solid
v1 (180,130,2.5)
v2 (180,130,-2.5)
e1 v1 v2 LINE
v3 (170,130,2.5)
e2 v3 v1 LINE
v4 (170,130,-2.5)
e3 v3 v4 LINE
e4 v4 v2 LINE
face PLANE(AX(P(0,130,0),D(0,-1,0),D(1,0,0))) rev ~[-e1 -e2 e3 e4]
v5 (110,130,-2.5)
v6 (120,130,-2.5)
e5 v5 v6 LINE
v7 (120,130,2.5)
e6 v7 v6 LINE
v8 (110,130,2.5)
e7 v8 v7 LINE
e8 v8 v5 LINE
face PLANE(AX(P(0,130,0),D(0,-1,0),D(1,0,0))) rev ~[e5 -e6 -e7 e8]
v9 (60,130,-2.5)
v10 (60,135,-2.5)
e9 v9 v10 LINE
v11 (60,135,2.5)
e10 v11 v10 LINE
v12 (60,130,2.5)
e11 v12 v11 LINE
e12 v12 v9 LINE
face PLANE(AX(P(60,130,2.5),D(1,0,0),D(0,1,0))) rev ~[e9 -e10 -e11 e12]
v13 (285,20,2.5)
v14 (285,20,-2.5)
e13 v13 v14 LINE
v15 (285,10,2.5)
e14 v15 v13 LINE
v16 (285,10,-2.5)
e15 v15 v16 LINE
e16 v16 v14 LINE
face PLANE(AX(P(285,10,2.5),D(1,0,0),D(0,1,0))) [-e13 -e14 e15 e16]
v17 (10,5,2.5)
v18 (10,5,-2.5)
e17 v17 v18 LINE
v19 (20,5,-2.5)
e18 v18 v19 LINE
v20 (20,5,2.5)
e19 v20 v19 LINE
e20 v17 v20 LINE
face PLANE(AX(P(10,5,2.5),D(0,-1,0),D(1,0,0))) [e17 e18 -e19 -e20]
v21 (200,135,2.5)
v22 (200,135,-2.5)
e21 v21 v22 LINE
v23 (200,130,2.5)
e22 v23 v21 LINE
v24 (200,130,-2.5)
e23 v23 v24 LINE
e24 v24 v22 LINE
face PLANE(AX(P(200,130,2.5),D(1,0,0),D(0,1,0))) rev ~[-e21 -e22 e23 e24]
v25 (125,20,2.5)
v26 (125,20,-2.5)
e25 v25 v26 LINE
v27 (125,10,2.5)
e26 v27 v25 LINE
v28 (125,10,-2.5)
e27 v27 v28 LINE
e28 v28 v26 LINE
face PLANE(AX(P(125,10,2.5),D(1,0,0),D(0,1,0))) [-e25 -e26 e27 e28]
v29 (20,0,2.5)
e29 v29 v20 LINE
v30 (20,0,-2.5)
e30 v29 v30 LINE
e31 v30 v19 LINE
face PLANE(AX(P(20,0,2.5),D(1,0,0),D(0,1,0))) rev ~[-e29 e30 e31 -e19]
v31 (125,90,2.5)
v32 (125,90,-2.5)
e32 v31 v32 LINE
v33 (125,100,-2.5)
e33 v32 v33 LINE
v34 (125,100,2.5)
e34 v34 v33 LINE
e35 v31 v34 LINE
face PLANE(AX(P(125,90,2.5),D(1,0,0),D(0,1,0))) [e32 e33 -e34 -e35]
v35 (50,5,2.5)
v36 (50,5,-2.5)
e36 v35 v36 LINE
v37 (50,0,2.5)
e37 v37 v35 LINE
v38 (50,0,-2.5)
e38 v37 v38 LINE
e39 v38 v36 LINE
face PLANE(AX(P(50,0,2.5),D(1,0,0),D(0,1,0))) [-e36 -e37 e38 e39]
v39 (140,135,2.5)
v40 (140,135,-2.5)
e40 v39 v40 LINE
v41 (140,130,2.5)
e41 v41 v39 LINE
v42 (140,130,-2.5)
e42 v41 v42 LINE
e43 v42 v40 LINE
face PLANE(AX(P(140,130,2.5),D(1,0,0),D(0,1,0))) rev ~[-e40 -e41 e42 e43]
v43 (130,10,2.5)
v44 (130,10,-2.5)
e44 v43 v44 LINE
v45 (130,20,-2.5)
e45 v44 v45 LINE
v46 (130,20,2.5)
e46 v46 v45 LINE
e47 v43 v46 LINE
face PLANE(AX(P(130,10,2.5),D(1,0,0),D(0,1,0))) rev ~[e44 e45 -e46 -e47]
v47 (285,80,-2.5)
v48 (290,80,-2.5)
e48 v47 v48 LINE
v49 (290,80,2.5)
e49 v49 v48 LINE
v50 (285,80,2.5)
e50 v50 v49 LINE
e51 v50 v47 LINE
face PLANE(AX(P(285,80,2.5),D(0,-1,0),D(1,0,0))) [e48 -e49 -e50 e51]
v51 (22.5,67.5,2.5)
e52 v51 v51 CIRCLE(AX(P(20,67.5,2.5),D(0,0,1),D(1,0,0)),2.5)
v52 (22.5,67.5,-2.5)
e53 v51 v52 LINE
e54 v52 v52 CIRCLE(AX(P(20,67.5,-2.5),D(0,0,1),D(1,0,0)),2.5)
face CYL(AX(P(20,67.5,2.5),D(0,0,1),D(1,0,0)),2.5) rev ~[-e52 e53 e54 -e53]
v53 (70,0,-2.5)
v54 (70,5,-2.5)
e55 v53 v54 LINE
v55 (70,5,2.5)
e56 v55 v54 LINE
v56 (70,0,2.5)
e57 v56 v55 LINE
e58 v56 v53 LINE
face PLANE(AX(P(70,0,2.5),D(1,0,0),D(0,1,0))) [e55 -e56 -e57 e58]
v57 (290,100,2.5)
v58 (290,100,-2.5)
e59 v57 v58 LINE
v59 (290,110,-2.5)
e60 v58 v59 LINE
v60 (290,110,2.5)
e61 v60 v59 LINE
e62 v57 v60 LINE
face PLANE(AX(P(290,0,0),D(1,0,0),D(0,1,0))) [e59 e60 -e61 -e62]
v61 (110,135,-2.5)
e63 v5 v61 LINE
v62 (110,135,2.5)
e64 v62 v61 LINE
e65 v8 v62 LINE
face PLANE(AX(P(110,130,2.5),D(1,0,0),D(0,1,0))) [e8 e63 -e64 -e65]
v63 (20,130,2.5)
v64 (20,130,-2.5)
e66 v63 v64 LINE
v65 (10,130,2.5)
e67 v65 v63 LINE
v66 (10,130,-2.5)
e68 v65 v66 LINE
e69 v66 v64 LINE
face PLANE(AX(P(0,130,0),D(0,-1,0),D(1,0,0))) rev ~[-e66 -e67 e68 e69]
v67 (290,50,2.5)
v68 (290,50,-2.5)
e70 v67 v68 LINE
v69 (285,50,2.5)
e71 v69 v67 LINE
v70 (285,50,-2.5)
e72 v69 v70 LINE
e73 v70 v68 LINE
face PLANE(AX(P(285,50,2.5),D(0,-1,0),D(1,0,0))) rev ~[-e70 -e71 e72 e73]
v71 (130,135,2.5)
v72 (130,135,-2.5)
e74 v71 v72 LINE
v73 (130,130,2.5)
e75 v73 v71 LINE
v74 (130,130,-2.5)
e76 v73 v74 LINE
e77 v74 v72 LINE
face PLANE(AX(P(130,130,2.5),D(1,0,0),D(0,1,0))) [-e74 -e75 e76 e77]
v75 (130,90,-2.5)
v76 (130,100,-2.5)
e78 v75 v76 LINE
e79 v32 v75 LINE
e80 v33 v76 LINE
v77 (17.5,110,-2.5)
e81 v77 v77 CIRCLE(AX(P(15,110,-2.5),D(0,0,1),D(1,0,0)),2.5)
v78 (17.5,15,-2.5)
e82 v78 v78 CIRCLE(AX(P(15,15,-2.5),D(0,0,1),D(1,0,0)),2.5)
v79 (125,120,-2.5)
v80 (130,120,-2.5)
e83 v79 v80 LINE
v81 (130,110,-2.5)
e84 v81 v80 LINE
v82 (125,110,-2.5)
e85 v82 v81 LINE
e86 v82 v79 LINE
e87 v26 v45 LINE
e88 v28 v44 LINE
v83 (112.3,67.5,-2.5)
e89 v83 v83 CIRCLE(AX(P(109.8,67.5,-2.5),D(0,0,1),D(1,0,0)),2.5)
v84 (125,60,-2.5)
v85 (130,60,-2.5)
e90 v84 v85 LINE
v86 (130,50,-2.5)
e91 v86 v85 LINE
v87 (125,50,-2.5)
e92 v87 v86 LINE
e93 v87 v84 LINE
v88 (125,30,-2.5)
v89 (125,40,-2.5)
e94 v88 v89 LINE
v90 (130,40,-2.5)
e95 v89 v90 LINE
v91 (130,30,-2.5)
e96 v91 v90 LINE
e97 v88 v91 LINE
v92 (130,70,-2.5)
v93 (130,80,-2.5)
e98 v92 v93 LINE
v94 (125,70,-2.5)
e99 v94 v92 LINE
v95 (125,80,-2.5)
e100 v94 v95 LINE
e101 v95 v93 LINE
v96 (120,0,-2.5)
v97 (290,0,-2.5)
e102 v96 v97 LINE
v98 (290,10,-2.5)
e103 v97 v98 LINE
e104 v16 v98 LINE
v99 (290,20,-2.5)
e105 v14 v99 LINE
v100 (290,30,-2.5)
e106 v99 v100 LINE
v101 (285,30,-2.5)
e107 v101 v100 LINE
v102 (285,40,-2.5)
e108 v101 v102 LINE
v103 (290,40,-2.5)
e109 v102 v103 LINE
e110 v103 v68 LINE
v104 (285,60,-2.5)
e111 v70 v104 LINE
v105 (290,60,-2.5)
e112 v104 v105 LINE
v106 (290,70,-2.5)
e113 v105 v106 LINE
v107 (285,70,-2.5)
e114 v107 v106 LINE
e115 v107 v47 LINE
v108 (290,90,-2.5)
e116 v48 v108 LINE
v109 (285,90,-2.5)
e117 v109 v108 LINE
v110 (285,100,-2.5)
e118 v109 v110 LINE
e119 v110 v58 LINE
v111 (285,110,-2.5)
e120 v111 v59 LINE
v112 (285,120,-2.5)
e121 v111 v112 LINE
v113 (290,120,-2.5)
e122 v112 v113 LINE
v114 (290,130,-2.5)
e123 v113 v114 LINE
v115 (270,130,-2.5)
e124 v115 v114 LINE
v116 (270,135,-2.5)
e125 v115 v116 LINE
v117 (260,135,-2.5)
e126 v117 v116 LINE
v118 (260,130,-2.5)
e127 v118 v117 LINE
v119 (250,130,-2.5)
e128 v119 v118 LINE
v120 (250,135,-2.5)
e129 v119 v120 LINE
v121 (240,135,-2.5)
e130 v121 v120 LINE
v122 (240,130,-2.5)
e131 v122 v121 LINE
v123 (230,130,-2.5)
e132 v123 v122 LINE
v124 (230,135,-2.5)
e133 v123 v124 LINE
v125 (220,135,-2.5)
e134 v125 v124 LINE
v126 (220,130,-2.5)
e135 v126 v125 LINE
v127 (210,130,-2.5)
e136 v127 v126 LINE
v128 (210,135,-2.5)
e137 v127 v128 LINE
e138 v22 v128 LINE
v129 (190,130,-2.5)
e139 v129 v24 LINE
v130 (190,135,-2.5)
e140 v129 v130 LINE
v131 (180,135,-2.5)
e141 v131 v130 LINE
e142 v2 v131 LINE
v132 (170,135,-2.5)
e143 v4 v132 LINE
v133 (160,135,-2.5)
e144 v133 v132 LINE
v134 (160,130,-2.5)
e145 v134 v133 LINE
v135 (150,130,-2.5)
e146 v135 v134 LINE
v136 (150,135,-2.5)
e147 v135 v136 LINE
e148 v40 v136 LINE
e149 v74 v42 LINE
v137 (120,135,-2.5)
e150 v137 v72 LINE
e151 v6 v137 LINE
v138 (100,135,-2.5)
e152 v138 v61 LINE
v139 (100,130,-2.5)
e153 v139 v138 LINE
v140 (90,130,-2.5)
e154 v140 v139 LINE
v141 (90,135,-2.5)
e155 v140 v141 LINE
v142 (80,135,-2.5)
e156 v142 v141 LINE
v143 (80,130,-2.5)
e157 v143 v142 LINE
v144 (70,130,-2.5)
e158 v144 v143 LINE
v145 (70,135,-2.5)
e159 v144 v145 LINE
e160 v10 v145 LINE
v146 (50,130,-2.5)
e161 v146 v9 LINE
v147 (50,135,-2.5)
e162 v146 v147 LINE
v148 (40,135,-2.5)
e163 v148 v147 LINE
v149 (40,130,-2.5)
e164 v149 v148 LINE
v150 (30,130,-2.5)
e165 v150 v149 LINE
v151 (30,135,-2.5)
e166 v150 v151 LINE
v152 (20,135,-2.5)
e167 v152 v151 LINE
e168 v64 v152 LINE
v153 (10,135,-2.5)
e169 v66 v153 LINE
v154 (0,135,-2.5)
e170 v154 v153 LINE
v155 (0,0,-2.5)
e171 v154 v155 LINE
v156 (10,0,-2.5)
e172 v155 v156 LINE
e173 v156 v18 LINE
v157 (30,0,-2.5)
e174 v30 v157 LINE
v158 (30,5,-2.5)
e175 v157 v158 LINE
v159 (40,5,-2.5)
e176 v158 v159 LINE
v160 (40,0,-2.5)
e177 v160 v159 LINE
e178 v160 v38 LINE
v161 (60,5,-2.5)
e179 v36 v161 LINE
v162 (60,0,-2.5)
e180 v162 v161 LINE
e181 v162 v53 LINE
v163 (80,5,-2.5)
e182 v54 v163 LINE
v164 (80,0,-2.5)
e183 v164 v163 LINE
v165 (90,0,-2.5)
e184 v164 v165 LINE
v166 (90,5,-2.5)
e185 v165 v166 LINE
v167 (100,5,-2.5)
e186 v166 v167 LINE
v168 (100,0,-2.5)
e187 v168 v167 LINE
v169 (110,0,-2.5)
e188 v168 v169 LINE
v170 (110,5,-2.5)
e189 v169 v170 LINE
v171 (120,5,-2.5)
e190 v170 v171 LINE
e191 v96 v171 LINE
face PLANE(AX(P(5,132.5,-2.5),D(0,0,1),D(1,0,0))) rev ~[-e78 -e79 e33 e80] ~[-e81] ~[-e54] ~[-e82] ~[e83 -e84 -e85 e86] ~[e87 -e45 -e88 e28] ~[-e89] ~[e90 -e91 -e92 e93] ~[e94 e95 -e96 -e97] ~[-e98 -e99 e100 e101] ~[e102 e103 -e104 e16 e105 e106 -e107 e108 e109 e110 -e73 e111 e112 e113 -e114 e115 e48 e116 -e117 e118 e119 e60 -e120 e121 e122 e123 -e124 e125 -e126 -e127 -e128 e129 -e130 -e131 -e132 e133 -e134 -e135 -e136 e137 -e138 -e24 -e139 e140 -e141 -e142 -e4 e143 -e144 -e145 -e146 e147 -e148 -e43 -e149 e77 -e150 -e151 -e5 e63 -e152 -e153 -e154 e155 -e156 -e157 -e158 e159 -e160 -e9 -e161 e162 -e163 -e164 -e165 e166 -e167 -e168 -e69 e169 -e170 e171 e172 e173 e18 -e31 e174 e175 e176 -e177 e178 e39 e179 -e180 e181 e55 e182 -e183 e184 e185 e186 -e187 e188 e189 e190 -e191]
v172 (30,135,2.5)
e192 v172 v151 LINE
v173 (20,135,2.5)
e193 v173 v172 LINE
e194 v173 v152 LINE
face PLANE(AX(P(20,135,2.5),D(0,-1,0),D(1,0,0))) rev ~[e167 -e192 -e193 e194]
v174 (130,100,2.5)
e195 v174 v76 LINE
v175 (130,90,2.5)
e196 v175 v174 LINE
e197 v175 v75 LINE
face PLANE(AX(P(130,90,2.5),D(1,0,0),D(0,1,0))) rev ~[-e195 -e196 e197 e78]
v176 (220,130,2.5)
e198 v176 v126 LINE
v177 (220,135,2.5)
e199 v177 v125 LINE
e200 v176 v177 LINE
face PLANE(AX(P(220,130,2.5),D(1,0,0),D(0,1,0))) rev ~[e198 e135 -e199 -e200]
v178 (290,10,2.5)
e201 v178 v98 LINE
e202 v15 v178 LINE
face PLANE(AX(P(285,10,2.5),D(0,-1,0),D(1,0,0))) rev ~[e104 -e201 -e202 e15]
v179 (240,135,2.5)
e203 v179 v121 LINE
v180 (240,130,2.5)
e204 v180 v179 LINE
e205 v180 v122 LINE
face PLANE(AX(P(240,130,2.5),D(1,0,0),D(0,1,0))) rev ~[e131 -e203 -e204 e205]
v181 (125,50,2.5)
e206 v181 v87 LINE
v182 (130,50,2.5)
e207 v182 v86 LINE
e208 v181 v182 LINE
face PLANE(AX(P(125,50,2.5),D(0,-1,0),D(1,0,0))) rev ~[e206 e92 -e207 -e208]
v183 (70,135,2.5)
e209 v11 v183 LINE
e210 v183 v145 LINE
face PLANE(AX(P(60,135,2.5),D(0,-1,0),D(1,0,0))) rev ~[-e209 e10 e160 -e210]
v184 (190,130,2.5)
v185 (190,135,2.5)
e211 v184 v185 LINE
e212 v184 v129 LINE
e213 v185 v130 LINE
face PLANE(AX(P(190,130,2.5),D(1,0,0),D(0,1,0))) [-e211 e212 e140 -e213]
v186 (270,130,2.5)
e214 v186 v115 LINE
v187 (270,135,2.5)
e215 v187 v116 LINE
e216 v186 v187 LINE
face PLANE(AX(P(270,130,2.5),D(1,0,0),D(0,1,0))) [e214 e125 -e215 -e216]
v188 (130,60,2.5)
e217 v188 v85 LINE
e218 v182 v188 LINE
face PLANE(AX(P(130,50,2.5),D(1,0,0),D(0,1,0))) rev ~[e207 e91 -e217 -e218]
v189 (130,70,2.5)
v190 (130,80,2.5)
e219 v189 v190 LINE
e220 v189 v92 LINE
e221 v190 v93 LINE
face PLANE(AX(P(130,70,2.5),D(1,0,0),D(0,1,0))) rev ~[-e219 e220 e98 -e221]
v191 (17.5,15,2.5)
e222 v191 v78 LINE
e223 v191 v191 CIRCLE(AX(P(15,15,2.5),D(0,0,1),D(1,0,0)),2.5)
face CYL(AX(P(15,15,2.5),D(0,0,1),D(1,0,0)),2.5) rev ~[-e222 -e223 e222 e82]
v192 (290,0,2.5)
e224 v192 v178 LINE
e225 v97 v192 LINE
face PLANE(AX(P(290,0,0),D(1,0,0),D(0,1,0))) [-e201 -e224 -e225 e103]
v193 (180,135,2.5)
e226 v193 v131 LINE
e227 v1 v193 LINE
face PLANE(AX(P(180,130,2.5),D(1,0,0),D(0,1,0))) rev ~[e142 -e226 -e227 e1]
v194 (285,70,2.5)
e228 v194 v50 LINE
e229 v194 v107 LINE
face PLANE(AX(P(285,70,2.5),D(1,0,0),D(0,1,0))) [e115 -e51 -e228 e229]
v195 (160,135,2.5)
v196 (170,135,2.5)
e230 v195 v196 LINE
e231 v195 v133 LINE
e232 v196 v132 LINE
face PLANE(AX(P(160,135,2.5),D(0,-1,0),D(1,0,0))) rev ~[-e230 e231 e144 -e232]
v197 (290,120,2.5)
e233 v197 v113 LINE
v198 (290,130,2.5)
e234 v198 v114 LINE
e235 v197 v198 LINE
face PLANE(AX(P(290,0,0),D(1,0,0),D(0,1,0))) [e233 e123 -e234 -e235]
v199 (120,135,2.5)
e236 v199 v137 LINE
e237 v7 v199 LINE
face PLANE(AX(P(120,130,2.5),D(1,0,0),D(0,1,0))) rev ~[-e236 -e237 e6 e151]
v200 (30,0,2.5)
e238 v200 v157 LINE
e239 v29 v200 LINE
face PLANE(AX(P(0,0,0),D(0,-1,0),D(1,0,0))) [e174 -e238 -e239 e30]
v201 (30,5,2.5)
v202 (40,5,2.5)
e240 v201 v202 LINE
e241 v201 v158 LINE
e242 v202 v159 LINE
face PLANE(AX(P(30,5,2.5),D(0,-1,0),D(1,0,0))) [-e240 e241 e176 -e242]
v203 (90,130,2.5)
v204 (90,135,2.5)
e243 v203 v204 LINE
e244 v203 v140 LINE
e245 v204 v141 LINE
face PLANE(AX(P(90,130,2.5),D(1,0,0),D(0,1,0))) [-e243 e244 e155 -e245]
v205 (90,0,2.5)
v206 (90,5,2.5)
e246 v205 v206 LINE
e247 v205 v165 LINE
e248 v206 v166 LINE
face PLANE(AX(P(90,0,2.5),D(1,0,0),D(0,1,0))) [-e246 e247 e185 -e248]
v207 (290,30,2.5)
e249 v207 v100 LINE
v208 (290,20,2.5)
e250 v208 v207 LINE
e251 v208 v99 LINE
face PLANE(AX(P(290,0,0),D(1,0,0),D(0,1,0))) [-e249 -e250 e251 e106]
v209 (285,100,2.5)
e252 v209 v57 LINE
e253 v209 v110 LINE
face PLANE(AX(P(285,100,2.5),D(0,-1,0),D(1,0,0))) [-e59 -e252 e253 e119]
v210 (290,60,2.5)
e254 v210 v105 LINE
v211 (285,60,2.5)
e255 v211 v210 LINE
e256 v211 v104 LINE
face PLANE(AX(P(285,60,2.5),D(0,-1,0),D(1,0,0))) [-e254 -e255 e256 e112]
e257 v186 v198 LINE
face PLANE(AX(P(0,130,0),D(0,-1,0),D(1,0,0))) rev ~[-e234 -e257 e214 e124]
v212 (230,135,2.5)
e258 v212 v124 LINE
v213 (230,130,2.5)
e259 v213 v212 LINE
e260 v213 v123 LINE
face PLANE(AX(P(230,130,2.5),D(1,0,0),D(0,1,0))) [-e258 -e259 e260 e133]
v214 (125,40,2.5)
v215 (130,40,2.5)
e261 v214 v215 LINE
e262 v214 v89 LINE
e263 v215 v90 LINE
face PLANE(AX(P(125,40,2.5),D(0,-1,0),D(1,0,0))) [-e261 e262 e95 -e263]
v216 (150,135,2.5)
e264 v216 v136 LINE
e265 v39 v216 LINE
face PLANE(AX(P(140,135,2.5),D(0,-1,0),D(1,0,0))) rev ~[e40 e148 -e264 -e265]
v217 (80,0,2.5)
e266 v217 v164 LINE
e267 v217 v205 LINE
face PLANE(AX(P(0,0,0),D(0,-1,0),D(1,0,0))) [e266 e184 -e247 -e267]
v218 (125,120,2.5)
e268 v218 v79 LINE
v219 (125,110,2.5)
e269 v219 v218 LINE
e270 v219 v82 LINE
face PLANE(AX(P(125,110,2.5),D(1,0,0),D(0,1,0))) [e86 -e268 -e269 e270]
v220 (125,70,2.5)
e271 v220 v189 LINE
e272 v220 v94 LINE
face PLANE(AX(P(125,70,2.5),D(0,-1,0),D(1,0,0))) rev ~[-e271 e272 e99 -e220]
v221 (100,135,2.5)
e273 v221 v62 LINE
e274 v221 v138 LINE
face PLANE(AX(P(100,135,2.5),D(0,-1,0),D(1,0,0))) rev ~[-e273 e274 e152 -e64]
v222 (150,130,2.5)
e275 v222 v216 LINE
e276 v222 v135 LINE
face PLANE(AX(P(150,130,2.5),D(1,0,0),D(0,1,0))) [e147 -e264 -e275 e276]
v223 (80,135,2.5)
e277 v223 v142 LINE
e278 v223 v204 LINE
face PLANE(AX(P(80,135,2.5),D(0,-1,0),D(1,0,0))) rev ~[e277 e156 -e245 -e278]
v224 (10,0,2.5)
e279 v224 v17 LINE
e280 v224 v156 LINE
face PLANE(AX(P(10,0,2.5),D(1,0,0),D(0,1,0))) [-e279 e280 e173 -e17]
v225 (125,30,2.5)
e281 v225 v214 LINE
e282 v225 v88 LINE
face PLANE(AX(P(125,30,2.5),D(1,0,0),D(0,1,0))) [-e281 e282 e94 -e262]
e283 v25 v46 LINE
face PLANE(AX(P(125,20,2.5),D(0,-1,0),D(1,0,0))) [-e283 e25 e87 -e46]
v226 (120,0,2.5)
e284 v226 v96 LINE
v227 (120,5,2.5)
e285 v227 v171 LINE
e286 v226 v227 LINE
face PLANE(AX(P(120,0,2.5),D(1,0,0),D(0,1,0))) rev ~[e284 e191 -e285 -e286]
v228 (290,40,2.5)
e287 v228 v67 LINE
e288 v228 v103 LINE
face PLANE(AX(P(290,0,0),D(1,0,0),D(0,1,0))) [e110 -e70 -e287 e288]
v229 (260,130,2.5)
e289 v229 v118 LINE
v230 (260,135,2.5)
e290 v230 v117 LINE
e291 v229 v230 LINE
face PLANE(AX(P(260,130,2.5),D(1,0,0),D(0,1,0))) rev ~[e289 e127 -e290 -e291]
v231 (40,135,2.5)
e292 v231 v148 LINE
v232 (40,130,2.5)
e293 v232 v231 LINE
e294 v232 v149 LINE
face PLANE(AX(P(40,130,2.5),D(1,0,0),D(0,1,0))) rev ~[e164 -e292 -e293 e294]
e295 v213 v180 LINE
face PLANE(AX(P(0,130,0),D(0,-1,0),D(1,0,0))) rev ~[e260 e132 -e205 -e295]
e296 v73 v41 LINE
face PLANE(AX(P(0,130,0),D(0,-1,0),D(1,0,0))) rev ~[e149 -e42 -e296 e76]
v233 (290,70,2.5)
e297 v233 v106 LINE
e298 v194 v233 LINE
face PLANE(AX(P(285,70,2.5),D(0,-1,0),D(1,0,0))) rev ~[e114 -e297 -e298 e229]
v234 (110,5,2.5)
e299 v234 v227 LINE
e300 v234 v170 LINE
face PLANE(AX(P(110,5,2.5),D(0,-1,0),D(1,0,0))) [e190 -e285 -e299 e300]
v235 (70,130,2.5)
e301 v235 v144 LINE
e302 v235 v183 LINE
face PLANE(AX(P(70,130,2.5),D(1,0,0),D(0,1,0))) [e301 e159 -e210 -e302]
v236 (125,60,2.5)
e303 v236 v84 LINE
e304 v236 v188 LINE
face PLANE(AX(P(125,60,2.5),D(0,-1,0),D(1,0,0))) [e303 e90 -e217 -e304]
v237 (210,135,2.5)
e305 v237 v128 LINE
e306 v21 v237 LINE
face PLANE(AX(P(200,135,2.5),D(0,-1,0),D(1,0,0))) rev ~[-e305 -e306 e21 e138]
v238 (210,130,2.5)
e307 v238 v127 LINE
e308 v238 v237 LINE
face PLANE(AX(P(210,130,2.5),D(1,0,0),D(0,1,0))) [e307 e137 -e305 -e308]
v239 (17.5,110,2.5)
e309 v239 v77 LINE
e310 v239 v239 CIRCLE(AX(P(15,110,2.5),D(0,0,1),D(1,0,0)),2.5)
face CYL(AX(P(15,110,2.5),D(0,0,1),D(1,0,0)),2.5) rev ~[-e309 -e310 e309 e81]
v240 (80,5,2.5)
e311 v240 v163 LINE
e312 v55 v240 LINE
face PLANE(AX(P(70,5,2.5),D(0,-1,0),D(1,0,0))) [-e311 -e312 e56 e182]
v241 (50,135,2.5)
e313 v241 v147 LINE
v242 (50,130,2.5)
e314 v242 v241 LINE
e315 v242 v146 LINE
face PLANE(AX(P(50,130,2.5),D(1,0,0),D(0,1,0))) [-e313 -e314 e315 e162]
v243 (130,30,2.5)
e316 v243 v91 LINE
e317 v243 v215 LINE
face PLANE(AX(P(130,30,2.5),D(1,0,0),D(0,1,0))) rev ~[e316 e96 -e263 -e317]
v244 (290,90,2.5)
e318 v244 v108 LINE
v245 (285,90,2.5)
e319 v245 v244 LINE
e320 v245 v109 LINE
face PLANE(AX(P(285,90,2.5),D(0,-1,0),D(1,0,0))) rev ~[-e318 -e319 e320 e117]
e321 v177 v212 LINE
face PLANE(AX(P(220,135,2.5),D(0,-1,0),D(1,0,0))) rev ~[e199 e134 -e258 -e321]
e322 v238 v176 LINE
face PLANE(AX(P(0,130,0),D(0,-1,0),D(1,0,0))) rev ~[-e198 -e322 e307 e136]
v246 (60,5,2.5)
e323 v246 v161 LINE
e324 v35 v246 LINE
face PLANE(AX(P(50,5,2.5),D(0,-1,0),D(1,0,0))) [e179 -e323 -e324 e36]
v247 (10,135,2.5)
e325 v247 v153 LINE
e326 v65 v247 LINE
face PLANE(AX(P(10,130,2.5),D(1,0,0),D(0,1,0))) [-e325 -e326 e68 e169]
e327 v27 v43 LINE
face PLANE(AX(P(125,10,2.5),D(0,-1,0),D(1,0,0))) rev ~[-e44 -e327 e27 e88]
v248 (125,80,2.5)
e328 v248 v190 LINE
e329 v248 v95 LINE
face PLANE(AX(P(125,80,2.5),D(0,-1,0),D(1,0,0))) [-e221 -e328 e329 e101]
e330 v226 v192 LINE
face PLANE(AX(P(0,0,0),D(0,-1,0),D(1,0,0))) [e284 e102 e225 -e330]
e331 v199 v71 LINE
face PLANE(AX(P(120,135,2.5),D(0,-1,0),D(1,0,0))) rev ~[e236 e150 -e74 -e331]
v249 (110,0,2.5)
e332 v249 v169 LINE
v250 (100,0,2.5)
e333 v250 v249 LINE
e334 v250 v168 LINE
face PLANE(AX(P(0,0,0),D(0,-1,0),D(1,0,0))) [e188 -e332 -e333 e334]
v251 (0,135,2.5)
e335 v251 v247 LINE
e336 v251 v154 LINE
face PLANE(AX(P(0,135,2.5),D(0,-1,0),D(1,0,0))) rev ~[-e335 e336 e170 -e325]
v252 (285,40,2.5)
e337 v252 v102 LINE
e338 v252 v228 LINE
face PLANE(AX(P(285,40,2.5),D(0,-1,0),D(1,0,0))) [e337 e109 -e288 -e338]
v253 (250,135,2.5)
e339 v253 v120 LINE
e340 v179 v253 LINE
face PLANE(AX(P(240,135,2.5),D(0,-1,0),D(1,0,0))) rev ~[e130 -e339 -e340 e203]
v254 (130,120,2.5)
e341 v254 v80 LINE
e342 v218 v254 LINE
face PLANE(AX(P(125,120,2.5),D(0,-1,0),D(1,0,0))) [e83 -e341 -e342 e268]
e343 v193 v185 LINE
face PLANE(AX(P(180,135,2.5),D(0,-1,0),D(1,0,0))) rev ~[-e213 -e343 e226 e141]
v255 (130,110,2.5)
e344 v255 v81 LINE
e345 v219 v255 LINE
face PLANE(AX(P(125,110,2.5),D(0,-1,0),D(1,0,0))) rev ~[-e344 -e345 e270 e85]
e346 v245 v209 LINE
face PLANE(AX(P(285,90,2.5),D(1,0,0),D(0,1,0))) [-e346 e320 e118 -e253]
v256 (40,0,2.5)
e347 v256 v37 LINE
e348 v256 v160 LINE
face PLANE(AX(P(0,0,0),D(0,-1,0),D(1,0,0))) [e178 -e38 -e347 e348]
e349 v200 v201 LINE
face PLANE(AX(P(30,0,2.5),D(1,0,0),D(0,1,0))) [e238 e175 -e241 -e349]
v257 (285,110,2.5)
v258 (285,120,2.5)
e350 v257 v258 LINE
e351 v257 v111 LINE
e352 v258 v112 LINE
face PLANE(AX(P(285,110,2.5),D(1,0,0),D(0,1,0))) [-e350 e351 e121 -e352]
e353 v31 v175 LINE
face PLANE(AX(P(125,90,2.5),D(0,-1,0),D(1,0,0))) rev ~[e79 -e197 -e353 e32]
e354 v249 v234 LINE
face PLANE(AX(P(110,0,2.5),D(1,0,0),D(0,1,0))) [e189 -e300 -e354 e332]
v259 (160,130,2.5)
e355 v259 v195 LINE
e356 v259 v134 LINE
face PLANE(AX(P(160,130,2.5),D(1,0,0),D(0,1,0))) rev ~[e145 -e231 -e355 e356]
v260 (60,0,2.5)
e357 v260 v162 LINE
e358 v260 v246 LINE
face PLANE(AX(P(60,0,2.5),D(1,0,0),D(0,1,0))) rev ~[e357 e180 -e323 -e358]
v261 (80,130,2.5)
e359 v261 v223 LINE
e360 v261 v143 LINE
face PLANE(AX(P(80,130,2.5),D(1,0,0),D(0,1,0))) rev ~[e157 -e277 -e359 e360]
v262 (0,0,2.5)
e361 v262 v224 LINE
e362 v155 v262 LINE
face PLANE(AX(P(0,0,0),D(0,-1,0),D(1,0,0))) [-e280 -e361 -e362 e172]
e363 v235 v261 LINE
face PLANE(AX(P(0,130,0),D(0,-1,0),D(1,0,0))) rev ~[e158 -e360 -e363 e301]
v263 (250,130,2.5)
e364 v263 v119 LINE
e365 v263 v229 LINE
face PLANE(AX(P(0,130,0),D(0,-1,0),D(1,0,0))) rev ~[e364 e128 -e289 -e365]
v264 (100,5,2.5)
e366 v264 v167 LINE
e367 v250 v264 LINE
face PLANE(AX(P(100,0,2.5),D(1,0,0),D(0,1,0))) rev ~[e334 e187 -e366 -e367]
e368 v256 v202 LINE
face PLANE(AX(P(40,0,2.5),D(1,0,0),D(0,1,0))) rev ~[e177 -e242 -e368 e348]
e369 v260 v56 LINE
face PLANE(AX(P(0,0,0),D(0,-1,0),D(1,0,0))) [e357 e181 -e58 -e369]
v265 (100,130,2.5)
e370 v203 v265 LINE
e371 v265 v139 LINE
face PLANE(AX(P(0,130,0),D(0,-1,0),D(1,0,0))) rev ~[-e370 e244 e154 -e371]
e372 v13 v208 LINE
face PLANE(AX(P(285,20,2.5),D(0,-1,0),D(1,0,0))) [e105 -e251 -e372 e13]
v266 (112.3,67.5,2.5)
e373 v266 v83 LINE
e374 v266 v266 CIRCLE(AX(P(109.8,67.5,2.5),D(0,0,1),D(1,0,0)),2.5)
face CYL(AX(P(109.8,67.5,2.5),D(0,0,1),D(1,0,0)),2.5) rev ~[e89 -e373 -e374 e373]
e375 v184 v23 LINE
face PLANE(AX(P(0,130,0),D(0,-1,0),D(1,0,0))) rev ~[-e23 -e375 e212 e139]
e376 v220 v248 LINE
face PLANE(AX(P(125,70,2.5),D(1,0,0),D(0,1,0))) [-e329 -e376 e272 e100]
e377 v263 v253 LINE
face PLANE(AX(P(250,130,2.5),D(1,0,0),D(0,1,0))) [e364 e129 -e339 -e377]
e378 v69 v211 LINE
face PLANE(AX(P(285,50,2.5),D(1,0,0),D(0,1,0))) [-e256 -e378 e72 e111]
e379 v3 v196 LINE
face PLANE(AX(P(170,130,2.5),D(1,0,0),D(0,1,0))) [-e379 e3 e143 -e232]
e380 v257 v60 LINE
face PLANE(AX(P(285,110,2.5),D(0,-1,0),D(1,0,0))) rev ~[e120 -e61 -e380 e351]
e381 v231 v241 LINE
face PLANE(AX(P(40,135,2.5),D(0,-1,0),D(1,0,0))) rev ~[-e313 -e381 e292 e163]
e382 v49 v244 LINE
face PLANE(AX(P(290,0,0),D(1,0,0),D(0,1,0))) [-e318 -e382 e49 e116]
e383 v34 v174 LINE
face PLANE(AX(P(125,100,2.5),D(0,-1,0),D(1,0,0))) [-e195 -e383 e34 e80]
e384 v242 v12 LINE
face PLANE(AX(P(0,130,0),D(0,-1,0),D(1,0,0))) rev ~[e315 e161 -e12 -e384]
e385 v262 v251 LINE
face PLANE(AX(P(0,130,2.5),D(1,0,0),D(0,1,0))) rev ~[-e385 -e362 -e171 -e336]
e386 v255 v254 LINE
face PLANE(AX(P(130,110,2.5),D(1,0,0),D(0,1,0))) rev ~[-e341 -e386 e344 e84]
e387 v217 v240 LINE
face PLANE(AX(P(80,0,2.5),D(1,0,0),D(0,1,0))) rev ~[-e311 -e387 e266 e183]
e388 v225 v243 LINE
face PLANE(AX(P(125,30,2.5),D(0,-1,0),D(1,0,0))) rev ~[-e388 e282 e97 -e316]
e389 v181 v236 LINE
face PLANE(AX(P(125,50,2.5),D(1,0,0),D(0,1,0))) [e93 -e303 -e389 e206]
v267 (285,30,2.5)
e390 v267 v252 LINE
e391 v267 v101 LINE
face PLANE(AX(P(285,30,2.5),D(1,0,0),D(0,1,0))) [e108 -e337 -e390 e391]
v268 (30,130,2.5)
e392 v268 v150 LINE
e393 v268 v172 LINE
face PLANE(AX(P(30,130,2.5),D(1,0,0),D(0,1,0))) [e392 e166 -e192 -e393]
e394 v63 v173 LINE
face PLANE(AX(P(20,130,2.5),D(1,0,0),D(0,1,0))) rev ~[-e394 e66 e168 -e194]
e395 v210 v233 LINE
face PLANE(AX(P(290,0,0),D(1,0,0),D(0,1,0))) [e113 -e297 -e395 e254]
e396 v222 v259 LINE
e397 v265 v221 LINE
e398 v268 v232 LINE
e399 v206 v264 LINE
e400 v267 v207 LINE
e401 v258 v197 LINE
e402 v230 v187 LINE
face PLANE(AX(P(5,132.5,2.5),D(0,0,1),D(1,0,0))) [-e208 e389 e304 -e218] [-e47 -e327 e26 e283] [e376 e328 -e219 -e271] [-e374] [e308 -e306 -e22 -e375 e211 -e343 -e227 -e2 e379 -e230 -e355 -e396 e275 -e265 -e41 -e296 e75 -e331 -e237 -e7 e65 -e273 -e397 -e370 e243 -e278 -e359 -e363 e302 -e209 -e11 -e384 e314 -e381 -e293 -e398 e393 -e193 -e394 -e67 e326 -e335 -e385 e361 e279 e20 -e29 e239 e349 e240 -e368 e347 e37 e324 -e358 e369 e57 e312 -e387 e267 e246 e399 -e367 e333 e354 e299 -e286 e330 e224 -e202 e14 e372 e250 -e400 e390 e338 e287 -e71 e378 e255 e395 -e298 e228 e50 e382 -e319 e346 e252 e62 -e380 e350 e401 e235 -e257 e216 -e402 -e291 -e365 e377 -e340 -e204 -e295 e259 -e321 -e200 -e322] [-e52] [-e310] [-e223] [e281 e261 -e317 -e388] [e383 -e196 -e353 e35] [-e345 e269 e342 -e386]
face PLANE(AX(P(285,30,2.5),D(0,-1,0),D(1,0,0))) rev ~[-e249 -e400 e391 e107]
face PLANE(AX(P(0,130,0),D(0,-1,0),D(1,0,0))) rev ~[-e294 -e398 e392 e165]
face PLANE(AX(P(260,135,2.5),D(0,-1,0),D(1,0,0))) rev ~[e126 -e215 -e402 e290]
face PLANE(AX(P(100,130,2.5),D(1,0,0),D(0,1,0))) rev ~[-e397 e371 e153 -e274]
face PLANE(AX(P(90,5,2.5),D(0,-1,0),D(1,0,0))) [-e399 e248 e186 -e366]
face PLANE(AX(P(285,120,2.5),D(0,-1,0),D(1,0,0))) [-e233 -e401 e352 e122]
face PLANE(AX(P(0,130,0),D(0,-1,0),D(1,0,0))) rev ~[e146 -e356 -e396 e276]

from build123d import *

# Parameters (mm, degrees)
SKETCH_W        = 290
SKETCH_H        = 130
PAD_DEPTH       = 2.5
SKETCH001_R     = 2.5
POCKET_DEPTH    = 5.001
SKETCH002_W     = 5
SKETCH002_H     = 10
POCKET001_DEPTH = 5.001
SKETCH003_W     = 10
SKETCH003_H     = 5
PAD001_DEPTH    = 5
SKETCH004_W     = 10
SKETCH004_H     = 5
POCKET002_DEPTH = 5.001
SKETCH005_W     = 5
SKETCH005_H     = 10
POCKET003_DEPTH = 5.001
SKETCH006_R     = 2.5
POCKET004_DEPTH = 5.001


with BuildPart() as part:
    # Sketch → Pad (new body, symmetric)
    with BuildSketch(Plane.XY):
        with Locations((145, 65)):
            Rectangle(SKETCH_W, SKETCH_H)
    extrude(amount=PAD_DEPTH, both=True)

    # Sketch001 (on Face6 of Pad) → Pocket (cut, through all)
    with BuildSketch(Plane.XY.offset(2.5)):
        with Locations((15, 110)):
            Circle(SKETCH001_R)
        with Locations((15, 15)):
            Circle(SKETCH001_R)
    extrude(amount=-POCKET_DEPTH, mode=Mode.SUBTRACT)

    # Sketch002 (on Face5 of Pocket) → Pocket001 (cut, through all)
    with BuildSketch(Plane.XY.offset(2.5)):
        with Locations((287.5, 15)):
            Rectangle(SKETCH002_W, SKETCH002_H)
        with Locations((287.5, 35)):
            Rectangle(SKETCH002_W, SKETCH002_H)
        with Locations((287.5, 55)):
            Rectangle(SKETCH002_W, SKETCH002_H)
        with Locations((287.5, 75)):
            Rectangle(SKETCH002_W, SKETCH002_H)
        with Locations((287.5, 95)):
            Rectangle(SKETCH002_W, SKETCH002_H)
        with Locations((287.5, 115)):
            Rectangle(SKETCH002_W, SKETCH002_H)
    extrude(amount=-POCKET001_DEPTH, mode=Mode.SUBTRACT)

    # Sketch003 (on Face5 of Pocket001) → Pad001 (join)
    with BuildSketch(Plane.XY.offset(2.5)):
        with Locations((5, 132.5)):
            Rectangle(SKETCH003_W, SKETCH003_H)
        with Locations((25, 132.5)):
            Rectangle(SKETCH003_W, SKETCH003_H)
        with Locations((45, 132.5)):
            Rectangle(SKETCH003_W, SKETCH003_H)
        with Locations((65, 132.5)):
            Rectangle(SKETCH003_W, SKETCH003_H)
        with Locations((85, 132.5)):
            Rectangle(SKETCH003_W, SKETCH003_H)
        with Locations((105, 132.5)):
            Rectangle(SKETCH003_W, SKETCH003_H)
        with Locations((125, 132.5)):
            Rectangle(SKETCH003_W, SKETCH003_H)
        with Locations((145, 132.5)):
            Rectangle(SKETCH003_W, SKETCH003_H)
        with Locations((165, 132.5)):
            Rectangle(SKETCH003_W, SKETCH003_H)
        with Locations((185, 132.5)):
            Rectangle(SKETCH003_W, SKETCH003_H)
        with Locations((205, 132.5)):
            Rectangle(SKETCH003_W, SKETCH003_H)
        with Locations((225, 132.5)):
            Rectangle(SKETCH003_W, SKETCH003_H)
        with Locations((245, 132.5)):
            Rectangle(SKETCH003_W, SKETCH003_H)
        with Locations((265, 132.5)):
            Rectangle(SKETCH003_W, SKETCH003_H)
    extrude(amount=-PAD001_DEPTH)

    # Sketch004 (on Face86 of Pad001) → Pocket002 (cut, through all)
    with BuildSketch(Plane.XY.offset(2.5)):
        with Locations((15, 2.5)):
            Rectangle(SKETCH004_W, SKETCH004_H)
        with Locations((35, 2.5)):
            Rectangle(SKETCH004_W, SKETCH004_H)
        with Locations((55, 2.5)):
            Rectangle(SKETCH004_W, SKETCH004_H)
        with Locations((75, 2.5)):
            Rectangle(SKETCH004_W, SKETCH004_H)
        with Locations((95, 2.5)):
            Rectangle(SKETCH004_W, SKETCH004_H)
        with Locations((115, 2.5)):
            Rectangle(SKETCH004_W, SKETCH004_H)
    extrude(amount=-POCKET002_DEPTH, mode=Mode.SUBTRACT)

    # Sketch005 (on Face4 of Pocket002) → Pocket003 (cut, through all)
    with BuildSketch(Plane.XY.offset(2.5)):
        with Locations((127.5, 15)):
            Rectangle(SKETCH005_W, SKETCH005_H)
        with Locations((127.5, 35)):
            Rectangle(SKETCH005_W, SKETCH005_H)
        with Locations((127.5, 55)):
            Rectangle(SKETCH005_W, SKETCH005_H)
        with Locations((127.5, 75)):
            Rectangle(SKETCH005_W, SKETCH005_H)
        with Locations((127.5, 95)):
            Rectangle(SKETCH005_W, SKETCH005_H)
        with Locations((127.5, 115)):
            Rectangle(SKETCH005_W, SKETCH005_H)
    extrude(amount=-POCKET003_DEPTH, mode=Mode.SUBTRACT)

    # Sketch006 (on Face4 of Pocket003) → Pocket004 (cut, through all)
    with BuildSketch(Plane.XY.offset(2.5)):
        with Locations((20, 67.5)):
            Circle(SKETCH006_R)
        with Locations((109.8, 67.5)):
            Circle(SKETCH006_R)
    extrude(amount=-POCKET004_DEPTH, mode=Mode.SUBTRACT)


solid = part.part
